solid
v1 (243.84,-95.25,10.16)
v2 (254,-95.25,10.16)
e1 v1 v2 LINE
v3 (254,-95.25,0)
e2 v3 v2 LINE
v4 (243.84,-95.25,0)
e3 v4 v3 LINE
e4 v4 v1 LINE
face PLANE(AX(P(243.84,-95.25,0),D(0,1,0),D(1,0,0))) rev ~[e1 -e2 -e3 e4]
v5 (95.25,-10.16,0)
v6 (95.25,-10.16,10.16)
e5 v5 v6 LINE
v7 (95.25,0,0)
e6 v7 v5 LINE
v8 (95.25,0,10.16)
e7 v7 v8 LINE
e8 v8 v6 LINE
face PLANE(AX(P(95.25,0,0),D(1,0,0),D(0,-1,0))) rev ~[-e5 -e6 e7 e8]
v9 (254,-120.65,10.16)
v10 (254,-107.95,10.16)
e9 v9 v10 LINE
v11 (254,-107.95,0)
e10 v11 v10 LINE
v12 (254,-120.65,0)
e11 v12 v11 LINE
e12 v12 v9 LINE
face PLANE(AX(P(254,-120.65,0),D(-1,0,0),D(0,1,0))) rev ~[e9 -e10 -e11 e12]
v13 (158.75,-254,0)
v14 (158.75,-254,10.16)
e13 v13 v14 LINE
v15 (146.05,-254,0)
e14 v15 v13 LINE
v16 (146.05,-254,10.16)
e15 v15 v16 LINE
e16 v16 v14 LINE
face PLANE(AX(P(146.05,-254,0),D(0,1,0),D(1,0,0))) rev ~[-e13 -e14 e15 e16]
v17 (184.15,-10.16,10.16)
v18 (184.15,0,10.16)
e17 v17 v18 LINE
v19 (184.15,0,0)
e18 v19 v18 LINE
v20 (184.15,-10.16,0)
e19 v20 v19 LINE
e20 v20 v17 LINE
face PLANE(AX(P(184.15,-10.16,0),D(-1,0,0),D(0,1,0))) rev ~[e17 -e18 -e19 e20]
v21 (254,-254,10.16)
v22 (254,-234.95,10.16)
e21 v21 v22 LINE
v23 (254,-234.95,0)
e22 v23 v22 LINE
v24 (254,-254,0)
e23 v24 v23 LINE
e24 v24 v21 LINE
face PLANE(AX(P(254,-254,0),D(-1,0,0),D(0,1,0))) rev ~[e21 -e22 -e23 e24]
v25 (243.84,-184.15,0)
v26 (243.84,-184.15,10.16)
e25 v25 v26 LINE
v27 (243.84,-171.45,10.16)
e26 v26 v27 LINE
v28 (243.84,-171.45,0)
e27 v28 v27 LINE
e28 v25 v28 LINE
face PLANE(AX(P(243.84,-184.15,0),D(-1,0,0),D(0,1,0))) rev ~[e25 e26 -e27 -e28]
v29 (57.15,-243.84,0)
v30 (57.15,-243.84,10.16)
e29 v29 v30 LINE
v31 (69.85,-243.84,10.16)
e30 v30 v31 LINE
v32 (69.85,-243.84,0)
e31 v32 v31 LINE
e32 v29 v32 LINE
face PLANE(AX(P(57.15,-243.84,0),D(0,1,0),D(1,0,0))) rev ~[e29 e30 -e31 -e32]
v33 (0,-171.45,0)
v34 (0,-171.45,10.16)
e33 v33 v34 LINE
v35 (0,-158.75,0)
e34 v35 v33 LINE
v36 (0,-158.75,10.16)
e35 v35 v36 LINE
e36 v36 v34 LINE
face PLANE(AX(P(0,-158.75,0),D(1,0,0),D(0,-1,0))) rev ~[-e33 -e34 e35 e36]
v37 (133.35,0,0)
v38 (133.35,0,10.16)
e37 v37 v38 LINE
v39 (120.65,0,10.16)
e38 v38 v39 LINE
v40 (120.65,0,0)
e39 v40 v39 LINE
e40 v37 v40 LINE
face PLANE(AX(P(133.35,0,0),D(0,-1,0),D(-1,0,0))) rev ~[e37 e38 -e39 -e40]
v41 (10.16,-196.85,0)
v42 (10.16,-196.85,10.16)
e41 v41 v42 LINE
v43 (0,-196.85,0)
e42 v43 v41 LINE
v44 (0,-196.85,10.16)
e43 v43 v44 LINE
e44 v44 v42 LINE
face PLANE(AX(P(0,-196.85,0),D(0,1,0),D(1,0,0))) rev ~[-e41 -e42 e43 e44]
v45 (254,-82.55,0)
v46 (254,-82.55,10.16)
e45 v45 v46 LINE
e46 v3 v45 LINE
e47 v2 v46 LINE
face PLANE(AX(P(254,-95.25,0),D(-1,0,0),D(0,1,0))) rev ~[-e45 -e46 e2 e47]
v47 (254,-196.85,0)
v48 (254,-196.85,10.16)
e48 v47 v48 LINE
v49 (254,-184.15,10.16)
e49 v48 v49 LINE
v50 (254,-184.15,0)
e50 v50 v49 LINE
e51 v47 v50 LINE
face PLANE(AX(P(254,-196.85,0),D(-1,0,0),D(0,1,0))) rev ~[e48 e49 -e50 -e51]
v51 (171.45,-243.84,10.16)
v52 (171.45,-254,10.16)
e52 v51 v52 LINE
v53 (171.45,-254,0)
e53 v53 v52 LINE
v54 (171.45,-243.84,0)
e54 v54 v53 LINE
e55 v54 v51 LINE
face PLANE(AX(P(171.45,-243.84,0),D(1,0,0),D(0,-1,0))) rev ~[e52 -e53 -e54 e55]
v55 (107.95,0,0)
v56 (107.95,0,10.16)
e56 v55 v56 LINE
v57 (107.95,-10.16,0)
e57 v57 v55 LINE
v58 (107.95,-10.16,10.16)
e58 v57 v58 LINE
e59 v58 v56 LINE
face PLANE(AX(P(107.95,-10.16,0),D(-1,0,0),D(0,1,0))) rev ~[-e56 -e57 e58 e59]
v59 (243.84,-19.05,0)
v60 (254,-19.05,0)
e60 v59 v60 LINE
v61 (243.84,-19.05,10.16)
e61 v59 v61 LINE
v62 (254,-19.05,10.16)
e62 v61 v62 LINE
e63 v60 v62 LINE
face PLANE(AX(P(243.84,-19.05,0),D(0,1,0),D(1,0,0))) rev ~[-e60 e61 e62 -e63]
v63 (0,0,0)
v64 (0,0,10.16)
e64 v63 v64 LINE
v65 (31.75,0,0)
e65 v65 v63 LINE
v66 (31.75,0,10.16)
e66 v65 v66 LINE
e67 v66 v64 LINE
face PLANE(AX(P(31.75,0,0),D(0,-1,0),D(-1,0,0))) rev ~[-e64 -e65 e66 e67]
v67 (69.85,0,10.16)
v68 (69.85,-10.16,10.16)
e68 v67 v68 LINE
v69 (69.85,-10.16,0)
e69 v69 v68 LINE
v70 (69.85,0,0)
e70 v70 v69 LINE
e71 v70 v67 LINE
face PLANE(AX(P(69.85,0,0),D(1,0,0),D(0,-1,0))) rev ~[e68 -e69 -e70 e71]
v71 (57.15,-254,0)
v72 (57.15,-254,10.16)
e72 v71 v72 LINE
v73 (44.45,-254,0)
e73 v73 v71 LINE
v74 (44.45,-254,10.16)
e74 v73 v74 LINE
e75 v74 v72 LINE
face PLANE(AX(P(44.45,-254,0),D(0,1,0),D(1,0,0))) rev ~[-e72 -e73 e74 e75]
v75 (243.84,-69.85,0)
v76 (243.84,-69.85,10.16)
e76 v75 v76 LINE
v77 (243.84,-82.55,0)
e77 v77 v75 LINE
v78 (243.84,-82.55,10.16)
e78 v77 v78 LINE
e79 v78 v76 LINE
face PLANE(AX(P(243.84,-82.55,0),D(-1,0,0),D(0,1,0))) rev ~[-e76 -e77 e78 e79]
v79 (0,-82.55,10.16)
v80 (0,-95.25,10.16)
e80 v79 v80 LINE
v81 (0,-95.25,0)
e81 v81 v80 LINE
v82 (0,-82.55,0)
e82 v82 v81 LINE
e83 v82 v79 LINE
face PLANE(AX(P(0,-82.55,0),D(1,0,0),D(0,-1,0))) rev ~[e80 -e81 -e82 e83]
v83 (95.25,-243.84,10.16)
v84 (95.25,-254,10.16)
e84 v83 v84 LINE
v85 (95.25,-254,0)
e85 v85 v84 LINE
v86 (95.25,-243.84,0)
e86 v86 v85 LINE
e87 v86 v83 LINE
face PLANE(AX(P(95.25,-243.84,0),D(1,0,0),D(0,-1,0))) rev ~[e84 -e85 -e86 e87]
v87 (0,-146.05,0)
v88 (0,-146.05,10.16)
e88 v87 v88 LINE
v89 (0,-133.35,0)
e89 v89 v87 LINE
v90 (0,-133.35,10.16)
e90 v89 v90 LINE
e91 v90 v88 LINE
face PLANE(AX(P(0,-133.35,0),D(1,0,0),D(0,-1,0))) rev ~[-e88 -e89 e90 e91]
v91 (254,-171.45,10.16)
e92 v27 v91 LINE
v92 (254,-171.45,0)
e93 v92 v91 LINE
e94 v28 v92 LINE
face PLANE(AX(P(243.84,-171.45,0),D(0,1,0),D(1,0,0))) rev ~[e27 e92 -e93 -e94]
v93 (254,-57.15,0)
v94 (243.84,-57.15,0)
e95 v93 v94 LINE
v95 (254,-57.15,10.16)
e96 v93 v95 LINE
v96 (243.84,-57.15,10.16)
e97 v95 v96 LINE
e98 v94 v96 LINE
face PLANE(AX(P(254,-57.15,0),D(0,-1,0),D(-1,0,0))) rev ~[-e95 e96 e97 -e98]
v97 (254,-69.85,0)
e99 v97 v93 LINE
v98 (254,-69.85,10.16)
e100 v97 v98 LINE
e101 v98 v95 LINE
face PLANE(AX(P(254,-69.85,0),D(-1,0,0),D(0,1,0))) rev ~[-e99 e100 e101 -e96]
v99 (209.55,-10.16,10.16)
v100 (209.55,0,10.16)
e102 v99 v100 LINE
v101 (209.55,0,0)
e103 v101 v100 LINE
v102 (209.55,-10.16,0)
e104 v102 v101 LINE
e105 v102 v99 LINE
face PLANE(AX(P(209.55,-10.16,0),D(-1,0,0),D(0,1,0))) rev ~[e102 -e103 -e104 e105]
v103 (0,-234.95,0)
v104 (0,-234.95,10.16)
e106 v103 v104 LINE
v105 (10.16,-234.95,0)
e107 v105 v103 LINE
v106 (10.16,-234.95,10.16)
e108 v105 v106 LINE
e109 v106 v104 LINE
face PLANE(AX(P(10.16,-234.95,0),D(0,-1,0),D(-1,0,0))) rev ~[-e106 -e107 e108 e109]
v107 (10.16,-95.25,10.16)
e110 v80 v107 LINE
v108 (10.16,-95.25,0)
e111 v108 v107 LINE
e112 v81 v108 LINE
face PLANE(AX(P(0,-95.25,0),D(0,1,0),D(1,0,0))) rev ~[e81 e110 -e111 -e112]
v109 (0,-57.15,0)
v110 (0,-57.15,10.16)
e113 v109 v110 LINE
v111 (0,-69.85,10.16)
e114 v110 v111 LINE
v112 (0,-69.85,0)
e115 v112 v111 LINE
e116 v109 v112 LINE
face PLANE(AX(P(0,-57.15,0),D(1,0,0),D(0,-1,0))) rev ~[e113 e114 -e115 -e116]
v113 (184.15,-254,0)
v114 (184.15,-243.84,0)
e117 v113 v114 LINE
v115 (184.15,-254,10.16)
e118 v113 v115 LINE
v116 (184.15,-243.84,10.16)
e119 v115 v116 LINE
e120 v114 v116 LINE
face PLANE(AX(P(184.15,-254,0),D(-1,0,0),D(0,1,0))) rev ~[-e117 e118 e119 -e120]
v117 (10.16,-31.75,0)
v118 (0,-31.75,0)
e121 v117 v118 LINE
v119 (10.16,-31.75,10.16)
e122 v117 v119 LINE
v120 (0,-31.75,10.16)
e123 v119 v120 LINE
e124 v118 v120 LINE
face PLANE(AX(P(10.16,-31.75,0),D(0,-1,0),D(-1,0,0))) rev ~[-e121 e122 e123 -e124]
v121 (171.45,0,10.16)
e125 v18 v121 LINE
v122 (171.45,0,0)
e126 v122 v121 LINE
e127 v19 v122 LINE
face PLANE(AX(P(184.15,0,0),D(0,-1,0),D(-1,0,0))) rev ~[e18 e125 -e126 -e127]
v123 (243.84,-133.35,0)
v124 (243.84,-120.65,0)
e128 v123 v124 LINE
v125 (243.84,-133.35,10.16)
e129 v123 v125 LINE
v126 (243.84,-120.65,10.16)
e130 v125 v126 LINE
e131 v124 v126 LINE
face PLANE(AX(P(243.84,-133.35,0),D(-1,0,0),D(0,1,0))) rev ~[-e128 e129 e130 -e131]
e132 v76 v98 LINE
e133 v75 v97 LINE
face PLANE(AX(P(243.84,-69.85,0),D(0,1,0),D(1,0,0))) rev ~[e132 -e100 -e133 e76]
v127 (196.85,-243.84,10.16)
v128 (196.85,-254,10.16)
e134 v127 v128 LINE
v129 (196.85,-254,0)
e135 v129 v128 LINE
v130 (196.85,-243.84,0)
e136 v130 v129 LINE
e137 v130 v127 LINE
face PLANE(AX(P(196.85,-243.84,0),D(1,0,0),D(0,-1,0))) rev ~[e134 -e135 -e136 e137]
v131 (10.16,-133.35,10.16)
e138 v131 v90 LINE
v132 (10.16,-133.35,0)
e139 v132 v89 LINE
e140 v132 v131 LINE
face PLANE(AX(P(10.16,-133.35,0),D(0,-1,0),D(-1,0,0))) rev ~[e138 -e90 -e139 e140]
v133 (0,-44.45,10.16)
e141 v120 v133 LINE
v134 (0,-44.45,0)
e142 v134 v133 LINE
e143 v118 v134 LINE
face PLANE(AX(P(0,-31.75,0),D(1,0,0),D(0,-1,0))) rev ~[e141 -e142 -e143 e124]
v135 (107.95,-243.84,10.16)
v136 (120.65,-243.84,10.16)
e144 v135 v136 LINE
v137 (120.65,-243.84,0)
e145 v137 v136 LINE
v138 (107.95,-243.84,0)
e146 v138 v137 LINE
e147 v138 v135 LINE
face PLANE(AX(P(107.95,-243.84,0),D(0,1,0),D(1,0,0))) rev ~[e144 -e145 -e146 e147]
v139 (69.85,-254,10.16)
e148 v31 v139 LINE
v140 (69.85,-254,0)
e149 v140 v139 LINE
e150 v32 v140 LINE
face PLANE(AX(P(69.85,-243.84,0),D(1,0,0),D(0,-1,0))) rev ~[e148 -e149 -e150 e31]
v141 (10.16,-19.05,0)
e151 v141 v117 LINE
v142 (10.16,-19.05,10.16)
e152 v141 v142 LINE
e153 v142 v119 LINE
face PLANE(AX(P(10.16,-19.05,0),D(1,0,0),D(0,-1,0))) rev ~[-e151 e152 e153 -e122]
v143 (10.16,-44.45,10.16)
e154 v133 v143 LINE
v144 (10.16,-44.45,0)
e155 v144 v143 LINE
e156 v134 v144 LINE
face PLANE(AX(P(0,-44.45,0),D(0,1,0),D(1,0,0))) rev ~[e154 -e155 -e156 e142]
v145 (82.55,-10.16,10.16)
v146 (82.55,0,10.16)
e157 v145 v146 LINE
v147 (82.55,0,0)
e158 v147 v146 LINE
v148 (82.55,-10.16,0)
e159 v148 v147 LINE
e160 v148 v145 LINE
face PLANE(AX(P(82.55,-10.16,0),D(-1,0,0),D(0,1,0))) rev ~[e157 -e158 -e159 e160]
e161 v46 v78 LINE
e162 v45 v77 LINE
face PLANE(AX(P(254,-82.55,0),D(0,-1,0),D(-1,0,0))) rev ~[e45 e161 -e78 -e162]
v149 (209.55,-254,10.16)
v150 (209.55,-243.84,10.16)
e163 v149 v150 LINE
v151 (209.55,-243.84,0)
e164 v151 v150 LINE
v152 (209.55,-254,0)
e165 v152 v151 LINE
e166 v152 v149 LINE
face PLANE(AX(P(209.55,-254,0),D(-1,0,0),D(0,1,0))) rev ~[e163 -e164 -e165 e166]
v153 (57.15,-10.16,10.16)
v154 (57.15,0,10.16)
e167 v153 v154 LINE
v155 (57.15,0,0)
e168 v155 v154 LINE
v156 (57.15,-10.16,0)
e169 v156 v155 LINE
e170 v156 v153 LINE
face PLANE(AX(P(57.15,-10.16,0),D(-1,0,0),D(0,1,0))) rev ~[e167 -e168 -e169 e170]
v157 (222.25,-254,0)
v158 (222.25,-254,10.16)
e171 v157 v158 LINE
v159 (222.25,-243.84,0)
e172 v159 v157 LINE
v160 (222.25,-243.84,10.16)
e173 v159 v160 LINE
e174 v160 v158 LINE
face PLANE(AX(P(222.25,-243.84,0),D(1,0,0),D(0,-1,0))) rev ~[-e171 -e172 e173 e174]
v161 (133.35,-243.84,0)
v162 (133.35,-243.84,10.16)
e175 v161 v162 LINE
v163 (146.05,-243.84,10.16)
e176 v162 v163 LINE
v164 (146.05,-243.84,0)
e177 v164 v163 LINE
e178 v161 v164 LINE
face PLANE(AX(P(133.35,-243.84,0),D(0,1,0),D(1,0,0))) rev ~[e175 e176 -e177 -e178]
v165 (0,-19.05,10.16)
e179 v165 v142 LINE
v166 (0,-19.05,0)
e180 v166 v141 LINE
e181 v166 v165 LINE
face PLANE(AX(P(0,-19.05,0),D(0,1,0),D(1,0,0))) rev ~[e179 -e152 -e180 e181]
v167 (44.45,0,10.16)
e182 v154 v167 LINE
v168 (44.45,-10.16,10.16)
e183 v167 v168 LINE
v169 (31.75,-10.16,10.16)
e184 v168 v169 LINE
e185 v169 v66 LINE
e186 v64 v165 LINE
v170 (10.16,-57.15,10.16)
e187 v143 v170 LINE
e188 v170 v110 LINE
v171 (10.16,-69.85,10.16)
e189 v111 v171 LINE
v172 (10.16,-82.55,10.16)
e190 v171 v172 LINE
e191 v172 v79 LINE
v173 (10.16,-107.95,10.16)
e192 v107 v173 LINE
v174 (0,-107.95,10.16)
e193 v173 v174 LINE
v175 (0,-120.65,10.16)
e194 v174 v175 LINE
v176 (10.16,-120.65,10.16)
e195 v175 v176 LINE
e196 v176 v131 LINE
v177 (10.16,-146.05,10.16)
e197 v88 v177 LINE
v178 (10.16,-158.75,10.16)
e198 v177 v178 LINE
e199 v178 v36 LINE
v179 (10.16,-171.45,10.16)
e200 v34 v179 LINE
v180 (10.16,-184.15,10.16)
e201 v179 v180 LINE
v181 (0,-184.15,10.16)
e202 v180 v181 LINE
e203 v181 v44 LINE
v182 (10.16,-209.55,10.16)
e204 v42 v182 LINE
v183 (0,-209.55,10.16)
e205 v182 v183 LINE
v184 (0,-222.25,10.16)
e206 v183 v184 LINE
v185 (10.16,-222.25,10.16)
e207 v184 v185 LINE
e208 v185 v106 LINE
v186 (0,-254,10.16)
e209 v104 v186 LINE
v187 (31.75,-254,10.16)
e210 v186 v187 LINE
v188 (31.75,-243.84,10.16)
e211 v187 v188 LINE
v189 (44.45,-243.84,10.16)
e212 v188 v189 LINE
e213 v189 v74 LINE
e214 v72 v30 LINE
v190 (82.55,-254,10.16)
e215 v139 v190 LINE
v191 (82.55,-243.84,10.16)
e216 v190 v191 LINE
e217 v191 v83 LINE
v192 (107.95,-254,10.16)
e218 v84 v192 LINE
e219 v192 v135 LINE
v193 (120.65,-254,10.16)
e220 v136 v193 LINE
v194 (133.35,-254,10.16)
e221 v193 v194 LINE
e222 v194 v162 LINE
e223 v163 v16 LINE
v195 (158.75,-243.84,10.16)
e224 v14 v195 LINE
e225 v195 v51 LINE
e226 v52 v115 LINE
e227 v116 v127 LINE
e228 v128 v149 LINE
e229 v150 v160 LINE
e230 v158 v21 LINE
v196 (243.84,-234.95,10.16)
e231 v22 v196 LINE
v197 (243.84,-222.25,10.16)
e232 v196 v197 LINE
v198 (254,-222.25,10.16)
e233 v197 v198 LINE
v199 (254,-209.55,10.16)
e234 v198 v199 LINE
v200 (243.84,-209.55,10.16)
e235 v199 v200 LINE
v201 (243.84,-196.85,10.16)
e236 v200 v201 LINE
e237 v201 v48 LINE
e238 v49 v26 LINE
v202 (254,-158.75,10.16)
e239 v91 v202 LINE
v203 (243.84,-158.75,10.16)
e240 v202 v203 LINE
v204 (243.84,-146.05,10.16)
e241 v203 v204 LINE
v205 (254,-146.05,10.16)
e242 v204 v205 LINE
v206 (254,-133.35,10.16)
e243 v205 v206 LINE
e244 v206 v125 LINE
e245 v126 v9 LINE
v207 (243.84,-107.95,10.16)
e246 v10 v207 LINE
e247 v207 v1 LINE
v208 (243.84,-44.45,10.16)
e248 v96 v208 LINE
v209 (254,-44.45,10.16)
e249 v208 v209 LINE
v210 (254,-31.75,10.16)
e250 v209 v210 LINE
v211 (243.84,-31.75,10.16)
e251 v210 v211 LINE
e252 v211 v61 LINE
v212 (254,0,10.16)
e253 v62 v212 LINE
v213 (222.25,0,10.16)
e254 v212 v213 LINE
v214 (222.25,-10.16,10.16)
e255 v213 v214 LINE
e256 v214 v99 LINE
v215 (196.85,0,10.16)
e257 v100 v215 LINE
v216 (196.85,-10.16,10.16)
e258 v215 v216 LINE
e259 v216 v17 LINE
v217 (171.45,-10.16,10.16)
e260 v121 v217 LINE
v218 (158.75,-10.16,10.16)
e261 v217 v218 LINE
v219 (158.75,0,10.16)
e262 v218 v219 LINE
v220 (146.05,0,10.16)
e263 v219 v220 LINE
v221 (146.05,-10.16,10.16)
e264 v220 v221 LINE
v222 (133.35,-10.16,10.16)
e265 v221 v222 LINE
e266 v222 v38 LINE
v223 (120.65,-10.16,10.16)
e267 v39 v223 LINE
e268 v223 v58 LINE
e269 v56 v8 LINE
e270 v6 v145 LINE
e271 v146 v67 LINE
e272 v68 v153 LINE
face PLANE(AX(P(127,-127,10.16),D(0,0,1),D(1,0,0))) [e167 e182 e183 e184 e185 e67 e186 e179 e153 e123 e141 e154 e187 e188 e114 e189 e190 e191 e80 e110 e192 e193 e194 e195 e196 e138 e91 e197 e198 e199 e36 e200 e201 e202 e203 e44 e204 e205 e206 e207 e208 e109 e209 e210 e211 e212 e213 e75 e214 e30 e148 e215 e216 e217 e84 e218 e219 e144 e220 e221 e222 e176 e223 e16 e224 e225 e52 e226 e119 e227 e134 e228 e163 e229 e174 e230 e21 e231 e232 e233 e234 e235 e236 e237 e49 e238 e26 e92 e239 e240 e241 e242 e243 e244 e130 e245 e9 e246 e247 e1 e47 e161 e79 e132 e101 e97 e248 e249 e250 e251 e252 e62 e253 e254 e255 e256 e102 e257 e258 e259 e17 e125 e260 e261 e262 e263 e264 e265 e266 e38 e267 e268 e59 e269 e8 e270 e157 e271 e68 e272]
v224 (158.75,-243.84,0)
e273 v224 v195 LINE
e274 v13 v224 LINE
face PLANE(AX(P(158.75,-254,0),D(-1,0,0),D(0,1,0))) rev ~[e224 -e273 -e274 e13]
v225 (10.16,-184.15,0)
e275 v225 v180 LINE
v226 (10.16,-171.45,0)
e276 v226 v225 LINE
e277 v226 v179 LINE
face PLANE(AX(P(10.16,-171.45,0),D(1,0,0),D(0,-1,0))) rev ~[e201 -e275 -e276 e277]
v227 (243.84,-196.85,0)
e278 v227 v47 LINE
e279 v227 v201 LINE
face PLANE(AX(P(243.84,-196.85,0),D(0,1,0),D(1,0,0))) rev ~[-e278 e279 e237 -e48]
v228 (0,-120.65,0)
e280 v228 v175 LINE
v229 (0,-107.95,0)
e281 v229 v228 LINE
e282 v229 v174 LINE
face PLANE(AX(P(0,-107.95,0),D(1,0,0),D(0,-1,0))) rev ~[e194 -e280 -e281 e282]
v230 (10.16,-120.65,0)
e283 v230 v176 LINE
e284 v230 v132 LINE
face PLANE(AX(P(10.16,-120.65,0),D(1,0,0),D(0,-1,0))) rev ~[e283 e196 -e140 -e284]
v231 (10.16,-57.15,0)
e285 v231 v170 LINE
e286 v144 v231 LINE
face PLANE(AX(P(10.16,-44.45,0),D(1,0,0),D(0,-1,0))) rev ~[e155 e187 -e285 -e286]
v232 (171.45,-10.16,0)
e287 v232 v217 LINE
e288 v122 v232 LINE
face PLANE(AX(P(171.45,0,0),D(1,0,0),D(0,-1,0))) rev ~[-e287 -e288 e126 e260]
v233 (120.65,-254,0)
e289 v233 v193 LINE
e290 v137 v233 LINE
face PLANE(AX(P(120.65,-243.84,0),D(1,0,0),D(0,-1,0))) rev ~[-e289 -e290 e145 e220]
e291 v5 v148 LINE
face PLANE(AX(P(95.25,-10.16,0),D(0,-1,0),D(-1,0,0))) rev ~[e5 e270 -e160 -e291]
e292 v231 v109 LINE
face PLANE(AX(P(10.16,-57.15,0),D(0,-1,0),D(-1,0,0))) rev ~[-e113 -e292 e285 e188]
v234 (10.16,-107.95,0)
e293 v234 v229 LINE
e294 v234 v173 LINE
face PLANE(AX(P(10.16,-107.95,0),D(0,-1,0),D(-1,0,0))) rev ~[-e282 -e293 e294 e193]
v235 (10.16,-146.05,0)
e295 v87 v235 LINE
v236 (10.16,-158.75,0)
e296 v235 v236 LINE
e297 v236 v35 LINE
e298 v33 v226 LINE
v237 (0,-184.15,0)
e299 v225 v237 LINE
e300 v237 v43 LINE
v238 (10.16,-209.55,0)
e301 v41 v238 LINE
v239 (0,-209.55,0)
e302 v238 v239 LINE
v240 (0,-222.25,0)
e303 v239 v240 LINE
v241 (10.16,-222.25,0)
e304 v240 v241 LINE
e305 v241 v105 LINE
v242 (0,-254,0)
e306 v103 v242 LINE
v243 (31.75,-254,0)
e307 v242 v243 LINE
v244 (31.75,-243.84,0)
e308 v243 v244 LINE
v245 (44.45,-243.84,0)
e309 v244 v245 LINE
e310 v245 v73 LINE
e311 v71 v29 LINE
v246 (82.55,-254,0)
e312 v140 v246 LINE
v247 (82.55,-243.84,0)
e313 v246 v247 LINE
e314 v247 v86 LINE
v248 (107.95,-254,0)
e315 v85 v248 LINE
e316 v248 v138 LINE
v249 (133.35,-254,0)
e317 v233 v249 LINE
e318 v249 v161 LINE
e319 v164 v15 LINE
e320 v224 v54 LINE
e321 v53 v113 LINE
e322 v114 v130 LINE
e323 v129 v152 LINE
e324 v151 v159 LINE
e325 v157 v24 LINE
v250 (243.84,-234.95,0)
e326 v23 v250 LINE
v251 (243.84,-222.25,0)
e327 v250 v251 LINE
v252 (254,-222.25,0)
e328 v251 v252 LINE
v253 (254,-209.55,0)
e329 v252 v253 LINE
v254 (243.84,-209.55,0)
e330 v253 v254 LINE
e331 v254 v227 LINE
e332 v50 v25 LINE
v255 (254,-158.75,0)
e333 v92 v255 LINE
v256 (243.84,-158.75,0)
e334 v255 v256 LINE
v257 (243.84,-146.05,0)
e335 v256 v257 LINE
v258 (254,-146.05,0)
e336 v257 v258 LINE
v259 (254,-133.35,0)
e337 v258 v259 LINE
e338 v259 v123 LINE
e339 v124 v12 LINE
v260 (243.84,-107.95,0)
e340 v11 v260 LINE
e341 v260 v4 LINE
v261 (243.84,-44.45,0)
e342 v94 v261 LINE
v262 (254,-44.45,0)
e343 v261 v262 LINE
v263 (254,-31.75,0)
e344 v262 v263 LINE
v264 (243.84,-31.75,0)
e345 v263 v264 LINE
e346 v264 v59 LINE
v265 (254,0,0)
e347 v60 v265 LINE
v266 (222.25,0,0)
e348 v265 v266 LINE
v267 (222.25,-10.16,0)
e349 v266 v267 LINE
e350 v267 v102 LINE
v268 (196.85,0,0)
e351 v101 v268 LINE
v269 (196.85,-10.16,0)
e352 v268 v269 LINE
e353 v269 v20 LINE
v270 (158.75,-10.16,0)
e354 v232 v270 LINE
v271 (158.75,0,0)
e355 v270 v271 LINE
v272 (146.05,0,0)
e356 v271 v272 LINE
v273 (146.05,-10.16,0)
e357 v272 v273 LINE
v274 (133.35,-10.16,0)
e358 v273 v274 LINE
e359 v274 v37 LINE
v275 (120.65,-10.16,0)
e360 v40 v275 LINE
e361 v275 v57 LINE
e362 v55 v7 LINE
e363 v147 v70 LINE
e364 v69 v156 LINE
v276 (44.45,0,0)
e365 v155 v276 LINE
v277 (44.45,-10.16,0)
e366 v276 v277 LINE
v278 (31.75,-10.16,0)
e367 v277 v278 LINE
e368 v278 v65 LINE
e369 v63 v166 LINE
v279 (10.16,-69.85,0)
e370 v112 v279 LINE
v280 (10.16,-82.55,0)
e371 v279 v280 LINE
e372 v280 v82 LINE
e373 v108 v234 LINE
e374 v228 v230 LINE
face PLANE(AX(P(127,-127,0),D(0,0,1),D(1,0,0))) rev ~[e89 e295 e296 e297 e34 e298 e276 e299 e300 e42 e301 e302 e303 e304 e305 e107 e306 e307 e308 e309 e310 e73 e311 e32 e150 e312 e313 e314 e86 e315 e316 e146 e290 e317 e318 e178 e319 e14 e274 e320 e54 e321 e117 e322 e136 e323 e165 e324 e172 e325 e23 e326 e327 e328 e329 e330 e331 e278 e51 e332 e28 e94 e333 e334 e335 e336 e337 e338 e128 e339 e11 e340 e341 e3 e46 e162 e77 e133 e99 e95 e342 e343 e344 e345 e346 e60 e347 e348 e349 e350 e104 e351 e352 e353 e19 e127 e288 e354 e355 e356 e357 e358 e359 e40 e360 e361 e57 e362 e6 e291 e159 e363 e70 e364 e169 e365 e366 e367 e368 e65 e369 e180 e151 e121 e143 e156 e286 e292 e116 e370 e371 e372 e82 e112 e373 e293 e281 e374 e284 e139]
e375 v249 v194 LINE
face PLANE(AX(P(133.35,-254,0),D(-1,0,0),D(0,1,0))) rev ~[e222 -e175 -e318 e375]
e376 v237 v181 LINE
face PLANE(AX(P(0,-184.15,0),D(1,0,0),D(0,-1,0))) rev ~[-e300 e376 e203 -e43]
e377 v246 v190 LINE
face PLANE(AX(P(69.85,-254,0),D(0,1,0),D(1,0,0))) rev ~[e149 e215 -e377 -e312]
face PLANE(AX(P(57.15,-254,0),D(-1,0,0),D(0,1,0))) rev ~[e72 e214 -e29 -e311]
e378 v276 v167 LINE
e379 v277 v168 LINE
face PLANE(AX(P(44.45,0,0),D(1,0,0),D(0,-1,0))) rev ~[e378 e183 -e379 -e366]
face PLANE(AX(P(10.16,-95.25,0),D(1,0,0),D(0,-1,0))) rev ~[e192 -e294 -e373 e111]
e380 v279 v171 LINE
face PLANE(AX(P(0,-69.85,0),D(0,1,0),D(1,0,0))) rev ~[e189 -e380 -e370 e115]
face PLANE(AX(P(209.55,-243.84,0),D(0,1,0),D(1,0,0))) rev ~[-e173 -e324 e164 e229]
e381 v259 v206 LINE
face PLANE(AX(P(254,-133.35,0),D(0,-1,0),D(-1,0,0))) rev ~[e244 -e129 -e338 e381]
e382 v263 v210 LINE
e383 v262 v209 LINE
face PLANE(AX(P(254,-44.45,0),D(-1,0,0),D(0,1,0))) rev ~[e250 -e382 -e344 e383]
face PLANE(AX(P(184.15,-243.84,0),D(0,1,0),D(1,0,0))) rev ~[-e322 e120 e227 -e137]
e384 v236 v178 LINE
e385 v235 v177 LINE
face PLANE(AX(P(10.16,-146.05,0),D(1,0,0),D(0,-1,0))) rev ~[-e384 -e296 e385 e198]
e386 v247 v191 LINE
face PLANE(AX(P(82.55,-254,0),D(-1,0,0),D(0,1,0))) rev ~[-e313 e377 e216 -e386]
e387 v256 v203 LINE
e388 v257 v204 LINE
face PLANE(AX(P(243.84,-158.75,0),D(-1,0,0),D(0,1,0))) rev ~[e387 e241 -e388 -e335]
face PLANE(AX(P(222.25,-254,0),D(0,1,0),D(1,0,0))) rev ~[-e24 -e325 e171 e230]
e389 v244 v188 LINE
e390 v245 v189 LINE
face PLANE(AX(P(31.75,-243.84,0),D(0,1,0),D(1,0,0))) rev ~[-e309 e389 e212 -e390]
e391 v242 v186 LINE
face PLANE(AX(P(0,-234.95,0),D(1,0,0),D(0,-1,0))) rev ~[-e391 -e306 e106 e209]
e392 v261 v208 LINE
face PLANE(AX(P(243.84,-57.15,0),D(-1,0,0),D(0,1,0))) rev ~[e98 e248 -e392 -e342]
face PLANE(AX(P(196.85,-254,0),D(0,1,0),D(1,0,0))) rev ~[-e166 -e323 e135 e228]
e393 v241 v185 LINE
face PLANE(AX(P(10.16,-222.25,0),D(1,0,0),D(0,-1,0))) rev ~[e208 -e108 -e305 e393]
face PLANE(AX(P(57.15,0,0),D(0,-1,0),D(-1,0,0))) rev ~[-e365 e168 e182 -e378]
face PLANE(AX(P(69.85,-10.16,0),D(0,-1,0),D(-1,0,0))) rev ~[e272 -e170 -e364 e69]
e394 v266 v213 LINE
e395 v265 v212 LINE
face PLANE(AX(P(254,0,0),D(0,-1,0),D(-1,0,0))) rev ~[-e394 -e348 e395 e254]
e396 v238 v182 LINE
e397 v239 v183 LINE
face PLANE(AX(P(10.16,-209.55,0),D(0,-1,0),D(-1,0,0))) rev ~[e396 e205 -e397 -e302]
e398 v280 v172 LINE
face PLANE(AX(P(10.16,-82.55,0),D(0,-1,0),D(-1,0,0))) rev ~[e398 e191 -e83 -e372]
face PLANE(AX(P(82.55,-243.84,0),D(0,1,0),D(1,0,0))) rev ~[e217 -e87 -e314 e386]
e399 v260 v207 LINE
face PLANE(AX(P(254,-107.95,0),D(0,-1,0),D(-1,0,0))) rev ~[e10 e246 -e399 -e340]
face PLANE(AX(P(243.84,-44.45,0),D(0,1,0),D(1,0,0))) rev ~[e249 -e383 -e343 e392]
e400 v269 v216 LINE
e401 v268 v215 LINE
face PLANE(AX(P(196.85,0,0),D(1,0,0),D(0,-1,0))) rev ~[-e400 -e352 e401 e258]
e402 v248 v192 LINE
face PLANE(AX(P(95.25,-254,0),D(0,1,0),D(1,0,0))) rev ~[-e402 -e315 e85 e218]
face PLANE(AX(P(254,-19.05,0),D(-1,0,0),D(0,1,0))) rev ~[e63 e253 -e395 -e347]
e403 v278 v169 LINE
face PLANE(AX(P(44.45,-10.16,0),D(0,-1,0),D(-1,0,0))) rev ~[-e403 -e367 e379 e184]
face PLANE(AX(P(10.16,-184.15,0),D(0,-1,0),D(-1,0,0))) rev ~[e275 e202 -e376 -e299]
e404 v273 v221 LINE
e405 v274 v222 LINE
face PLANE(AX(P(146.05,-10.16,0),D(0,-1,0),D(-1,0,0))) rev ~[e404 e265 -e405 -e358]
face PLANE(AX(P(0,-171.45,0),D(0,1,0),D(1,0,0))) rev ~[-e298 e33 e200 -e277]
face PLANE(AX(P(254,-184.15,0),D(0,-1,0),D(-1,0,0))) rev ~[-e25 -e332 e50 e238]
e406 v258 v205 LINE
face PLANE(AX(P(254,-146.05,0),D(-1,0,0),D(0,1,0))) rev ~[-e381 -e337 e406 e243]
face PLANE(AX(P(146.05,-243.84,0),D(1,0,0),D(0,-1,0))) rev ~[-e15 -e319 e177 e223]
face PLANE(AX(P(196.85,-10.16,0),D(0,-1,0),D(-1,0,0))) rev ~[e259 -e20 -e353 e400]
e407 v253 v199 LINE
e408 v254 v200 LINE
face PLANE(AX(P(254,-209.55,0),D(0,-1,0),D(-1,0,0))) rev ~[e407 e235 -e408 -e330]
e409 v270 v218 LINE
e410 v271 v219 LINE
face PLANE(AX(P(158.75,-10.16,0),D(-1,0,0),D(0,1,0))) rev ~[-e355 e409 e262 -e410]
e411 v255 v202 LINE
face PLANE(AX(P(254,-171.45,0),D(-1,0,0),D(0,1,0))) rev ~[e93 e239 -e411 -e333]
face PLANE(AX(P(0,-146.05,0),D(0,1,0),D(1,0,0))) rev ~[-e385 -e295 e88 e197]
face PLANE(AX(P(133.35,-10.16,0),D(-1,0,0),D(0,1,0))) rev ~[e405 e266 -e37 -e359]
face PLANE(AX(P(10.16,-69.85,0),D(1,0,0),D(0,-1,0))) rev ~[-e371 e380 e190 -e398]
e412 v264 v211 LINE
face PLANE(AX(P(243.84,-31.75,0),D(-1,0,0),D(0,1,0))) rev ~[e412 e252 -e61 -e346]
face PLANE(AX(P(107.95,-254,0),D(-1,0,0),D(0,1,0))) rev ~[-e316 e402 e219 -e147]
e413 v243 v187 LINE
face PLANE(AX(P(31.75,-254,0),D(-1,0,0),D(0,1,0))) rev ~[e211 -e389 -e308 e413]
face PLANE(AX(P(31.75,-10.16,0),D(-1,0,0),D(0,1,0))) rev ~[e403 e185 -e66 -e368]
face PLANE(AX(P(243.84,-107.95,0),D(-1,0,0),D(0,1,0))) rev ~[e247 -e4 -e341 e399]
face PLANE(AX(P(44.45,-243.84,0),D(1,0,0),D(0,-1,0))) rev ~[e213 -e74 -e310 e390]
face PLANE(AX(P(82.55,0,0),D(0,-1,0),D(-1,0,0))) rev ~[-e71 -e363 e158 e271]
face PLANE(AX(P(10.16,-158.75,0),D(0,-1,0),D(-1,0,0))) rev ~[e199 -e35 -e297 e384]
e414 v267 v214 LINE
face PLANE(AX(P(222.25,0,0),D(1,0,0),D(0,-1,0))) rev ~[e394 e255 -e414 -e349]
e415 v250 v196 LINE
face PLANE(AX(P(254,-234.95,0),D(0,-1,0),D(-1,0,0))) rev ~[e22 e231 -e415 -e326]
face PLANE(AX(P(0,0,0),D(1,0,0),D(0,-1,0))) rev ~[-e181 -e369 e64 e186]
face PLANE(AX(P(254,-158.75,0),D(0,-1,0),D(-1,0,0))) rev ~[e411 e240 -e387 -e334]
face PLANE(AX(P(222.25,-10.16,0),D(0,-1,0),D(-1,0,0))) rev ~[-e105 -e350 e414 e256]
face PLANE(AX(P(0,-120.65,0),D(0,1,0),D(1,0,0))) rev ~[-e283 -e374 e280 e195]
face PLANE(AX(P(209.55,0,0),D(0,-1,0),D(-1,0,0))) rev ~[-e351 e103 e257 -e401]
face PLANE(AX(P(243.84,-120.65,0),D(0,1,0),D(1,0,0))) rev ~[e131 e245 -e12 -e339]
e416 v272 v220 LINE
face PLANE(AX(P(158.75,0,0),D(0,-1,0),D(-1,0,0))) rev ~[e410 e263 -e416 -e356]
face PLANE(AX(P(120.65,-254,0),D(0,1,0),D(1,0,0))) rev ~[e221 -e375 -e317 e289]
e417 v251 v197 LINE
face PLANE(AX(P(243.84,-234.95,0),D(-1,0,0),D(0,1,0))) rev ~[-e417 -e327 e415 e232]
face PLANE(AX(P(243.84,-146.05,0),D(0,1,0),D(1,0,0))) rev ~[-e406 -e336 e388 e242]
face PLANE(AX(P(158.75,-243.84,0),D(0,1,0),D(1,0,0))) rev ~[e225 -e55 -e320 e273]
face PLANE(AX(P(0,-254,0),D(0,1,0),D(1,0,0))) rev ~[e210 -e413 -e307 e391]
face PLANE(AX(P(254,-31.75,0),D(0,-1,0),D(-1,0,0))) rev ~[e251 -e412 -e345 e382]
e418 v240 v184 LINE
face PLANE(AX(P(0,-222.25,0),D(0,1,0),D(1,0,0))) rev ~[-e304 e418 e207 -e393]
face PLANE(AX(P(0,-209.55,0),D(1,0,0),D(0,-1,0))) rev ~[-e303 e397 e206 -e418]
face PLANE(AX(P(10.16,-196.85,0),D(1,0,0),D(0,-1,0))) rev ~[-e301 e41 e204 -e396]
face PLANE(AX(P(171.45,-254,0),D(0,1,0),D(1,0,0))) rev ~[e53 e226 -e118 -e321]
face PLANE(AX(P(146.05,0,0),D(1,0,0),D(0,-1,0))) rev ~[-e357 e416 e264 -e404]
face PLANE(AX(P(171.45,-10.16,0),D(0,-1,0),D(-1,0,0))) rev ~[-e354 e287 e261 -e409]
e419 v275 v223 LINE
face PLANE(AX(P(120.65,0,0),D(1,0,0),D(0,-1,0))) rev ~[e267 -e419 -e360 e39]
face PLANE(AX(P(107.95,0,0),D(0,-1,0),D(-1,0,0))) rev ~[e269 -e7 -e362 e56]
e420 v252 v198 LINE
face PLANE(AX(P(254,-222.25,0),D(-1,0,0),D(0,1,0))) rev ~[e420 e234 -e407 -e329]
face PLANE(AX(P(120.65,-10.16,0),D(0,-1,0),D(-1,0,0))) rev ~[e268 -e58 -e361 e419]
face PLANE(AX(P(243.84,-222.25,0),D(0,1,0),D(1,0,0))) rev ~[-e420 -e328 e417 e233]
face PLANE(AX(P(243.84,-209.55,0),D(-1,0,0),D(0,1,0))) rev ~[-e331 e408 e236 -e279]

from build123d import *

# Parameters (mm, degrees)
F1_DEPTH = 10.16


with BuildPart() as f1:
    # F0 (on Top) → F1 (new body)
    with BuildSketch(Plane.XY):
        Polygon((31.75, 0), (0, 0), (0, -19.05), (10.16, -19.05), (10.16, -31.75), (0, -31.75), (0, -44.45), (10.16, -44.45), (10.16, -57.15), (0, -57.15), (0, -69.85), (10.16, -69.85), (10.16, -82.55), (0, -82.55), (0, -95.25), (10.16, -95.25), (10.16, -107.95), (0, -107.95), (0, -120.65), (10.16, -120.65), (10.16, -133.35), (0, -133.35), (0, -146.05), (10.16, -146.05), (10.16, -158.75), (0, -158.75), (0, -171.45), (10.16, -171.45), (10.16, -184.15), (0, -184.15), (0, -196.85), (10.16, -196.85), (10.16, -209.55), (0, -209.55), (0, -222.25), (10.16, -222.25), (10.16, -234.95), (0, -234.95), (0, -254), (31.75, -254), (31.75, -243.84), (44.45, -243.84), (44.45, -254), (57.15, -254), (57.15, -243.84), (69.85, -243.84), (69.85, -254), (82.55, -254), (82.55, -243.84), (95.25, -243.84), (95.25, -254), (107.95, -254), (107.95, -243.84), (120.65, -243.84), (120.65, -254), (133.35, -254), (133.35, -243.84), (146.05, -243.84), (146.05, -254), (158.75, -254), (158.75, -243.84), (171.45, -243.84), (171.45, -254), (184.15, -254), (184.15, -243.84), (196.85, -243.84), (196.85, -254), (209.55, -254), (209.55, -243.84), (222.25, -243.84), (222.25, -254), (254, -254), (254, -234.95), (243.84, -234.95), (243.84, -222.25), (254, -222.25), (254, -209.55), (243.84, -209.55), (243.84, -196.85), (254, -196.85), (254, -184.15), (243.84, -184.15), (243.84, -171.45), (254, -171.45), (254, -158.75), (243.84, -158.75), (243.84, -146.05), (254, -146.05), (254, -133.35), (243.84, -133.35), (243.84, -120.65), (254, -120.65), (254, -107.95), (243.84, -107.95), (243.84, -95.25), (254, -95.25), (254, -82.55), (243.84, -82.55), (243.84, -69.85), (254, -69.85), (254, -57.15), (243.84, -57.15), (243.84, -44.45), (254, -44.45), (254, -31.75), (243.84, -31.75), (243.84, -19.05), (254, -19.05), (254, 0), (222.25, 0), (222.25, -10.16), (209.55, -10.16), (209.55, 0), (196.85, 0), (196.85, -10.16), (184.15, -10.16), (184.15, 0), (171.45, 0), (171.45, -10.16), (158.75, -10.16), (158.75, 0), (146.05, 0), (146.05, -10.16), (133.35, -10.16), (133.35, 0), (120.65, 0), (120.65, -10.16), (107.95, -10.16), (107.95, 0), (95.25, 0), (95.25, -10.16), (82.55, -10.16), (82.55, 0), (69.85, 0), (69.85, -10.16), (57.15, -10.16), (57.15, 0), (44.45, 0), (44.45, -10.16), (31.75, -10.16), align=None)
    extrude(amount=F1_DEPTH)


solid = f1.part
